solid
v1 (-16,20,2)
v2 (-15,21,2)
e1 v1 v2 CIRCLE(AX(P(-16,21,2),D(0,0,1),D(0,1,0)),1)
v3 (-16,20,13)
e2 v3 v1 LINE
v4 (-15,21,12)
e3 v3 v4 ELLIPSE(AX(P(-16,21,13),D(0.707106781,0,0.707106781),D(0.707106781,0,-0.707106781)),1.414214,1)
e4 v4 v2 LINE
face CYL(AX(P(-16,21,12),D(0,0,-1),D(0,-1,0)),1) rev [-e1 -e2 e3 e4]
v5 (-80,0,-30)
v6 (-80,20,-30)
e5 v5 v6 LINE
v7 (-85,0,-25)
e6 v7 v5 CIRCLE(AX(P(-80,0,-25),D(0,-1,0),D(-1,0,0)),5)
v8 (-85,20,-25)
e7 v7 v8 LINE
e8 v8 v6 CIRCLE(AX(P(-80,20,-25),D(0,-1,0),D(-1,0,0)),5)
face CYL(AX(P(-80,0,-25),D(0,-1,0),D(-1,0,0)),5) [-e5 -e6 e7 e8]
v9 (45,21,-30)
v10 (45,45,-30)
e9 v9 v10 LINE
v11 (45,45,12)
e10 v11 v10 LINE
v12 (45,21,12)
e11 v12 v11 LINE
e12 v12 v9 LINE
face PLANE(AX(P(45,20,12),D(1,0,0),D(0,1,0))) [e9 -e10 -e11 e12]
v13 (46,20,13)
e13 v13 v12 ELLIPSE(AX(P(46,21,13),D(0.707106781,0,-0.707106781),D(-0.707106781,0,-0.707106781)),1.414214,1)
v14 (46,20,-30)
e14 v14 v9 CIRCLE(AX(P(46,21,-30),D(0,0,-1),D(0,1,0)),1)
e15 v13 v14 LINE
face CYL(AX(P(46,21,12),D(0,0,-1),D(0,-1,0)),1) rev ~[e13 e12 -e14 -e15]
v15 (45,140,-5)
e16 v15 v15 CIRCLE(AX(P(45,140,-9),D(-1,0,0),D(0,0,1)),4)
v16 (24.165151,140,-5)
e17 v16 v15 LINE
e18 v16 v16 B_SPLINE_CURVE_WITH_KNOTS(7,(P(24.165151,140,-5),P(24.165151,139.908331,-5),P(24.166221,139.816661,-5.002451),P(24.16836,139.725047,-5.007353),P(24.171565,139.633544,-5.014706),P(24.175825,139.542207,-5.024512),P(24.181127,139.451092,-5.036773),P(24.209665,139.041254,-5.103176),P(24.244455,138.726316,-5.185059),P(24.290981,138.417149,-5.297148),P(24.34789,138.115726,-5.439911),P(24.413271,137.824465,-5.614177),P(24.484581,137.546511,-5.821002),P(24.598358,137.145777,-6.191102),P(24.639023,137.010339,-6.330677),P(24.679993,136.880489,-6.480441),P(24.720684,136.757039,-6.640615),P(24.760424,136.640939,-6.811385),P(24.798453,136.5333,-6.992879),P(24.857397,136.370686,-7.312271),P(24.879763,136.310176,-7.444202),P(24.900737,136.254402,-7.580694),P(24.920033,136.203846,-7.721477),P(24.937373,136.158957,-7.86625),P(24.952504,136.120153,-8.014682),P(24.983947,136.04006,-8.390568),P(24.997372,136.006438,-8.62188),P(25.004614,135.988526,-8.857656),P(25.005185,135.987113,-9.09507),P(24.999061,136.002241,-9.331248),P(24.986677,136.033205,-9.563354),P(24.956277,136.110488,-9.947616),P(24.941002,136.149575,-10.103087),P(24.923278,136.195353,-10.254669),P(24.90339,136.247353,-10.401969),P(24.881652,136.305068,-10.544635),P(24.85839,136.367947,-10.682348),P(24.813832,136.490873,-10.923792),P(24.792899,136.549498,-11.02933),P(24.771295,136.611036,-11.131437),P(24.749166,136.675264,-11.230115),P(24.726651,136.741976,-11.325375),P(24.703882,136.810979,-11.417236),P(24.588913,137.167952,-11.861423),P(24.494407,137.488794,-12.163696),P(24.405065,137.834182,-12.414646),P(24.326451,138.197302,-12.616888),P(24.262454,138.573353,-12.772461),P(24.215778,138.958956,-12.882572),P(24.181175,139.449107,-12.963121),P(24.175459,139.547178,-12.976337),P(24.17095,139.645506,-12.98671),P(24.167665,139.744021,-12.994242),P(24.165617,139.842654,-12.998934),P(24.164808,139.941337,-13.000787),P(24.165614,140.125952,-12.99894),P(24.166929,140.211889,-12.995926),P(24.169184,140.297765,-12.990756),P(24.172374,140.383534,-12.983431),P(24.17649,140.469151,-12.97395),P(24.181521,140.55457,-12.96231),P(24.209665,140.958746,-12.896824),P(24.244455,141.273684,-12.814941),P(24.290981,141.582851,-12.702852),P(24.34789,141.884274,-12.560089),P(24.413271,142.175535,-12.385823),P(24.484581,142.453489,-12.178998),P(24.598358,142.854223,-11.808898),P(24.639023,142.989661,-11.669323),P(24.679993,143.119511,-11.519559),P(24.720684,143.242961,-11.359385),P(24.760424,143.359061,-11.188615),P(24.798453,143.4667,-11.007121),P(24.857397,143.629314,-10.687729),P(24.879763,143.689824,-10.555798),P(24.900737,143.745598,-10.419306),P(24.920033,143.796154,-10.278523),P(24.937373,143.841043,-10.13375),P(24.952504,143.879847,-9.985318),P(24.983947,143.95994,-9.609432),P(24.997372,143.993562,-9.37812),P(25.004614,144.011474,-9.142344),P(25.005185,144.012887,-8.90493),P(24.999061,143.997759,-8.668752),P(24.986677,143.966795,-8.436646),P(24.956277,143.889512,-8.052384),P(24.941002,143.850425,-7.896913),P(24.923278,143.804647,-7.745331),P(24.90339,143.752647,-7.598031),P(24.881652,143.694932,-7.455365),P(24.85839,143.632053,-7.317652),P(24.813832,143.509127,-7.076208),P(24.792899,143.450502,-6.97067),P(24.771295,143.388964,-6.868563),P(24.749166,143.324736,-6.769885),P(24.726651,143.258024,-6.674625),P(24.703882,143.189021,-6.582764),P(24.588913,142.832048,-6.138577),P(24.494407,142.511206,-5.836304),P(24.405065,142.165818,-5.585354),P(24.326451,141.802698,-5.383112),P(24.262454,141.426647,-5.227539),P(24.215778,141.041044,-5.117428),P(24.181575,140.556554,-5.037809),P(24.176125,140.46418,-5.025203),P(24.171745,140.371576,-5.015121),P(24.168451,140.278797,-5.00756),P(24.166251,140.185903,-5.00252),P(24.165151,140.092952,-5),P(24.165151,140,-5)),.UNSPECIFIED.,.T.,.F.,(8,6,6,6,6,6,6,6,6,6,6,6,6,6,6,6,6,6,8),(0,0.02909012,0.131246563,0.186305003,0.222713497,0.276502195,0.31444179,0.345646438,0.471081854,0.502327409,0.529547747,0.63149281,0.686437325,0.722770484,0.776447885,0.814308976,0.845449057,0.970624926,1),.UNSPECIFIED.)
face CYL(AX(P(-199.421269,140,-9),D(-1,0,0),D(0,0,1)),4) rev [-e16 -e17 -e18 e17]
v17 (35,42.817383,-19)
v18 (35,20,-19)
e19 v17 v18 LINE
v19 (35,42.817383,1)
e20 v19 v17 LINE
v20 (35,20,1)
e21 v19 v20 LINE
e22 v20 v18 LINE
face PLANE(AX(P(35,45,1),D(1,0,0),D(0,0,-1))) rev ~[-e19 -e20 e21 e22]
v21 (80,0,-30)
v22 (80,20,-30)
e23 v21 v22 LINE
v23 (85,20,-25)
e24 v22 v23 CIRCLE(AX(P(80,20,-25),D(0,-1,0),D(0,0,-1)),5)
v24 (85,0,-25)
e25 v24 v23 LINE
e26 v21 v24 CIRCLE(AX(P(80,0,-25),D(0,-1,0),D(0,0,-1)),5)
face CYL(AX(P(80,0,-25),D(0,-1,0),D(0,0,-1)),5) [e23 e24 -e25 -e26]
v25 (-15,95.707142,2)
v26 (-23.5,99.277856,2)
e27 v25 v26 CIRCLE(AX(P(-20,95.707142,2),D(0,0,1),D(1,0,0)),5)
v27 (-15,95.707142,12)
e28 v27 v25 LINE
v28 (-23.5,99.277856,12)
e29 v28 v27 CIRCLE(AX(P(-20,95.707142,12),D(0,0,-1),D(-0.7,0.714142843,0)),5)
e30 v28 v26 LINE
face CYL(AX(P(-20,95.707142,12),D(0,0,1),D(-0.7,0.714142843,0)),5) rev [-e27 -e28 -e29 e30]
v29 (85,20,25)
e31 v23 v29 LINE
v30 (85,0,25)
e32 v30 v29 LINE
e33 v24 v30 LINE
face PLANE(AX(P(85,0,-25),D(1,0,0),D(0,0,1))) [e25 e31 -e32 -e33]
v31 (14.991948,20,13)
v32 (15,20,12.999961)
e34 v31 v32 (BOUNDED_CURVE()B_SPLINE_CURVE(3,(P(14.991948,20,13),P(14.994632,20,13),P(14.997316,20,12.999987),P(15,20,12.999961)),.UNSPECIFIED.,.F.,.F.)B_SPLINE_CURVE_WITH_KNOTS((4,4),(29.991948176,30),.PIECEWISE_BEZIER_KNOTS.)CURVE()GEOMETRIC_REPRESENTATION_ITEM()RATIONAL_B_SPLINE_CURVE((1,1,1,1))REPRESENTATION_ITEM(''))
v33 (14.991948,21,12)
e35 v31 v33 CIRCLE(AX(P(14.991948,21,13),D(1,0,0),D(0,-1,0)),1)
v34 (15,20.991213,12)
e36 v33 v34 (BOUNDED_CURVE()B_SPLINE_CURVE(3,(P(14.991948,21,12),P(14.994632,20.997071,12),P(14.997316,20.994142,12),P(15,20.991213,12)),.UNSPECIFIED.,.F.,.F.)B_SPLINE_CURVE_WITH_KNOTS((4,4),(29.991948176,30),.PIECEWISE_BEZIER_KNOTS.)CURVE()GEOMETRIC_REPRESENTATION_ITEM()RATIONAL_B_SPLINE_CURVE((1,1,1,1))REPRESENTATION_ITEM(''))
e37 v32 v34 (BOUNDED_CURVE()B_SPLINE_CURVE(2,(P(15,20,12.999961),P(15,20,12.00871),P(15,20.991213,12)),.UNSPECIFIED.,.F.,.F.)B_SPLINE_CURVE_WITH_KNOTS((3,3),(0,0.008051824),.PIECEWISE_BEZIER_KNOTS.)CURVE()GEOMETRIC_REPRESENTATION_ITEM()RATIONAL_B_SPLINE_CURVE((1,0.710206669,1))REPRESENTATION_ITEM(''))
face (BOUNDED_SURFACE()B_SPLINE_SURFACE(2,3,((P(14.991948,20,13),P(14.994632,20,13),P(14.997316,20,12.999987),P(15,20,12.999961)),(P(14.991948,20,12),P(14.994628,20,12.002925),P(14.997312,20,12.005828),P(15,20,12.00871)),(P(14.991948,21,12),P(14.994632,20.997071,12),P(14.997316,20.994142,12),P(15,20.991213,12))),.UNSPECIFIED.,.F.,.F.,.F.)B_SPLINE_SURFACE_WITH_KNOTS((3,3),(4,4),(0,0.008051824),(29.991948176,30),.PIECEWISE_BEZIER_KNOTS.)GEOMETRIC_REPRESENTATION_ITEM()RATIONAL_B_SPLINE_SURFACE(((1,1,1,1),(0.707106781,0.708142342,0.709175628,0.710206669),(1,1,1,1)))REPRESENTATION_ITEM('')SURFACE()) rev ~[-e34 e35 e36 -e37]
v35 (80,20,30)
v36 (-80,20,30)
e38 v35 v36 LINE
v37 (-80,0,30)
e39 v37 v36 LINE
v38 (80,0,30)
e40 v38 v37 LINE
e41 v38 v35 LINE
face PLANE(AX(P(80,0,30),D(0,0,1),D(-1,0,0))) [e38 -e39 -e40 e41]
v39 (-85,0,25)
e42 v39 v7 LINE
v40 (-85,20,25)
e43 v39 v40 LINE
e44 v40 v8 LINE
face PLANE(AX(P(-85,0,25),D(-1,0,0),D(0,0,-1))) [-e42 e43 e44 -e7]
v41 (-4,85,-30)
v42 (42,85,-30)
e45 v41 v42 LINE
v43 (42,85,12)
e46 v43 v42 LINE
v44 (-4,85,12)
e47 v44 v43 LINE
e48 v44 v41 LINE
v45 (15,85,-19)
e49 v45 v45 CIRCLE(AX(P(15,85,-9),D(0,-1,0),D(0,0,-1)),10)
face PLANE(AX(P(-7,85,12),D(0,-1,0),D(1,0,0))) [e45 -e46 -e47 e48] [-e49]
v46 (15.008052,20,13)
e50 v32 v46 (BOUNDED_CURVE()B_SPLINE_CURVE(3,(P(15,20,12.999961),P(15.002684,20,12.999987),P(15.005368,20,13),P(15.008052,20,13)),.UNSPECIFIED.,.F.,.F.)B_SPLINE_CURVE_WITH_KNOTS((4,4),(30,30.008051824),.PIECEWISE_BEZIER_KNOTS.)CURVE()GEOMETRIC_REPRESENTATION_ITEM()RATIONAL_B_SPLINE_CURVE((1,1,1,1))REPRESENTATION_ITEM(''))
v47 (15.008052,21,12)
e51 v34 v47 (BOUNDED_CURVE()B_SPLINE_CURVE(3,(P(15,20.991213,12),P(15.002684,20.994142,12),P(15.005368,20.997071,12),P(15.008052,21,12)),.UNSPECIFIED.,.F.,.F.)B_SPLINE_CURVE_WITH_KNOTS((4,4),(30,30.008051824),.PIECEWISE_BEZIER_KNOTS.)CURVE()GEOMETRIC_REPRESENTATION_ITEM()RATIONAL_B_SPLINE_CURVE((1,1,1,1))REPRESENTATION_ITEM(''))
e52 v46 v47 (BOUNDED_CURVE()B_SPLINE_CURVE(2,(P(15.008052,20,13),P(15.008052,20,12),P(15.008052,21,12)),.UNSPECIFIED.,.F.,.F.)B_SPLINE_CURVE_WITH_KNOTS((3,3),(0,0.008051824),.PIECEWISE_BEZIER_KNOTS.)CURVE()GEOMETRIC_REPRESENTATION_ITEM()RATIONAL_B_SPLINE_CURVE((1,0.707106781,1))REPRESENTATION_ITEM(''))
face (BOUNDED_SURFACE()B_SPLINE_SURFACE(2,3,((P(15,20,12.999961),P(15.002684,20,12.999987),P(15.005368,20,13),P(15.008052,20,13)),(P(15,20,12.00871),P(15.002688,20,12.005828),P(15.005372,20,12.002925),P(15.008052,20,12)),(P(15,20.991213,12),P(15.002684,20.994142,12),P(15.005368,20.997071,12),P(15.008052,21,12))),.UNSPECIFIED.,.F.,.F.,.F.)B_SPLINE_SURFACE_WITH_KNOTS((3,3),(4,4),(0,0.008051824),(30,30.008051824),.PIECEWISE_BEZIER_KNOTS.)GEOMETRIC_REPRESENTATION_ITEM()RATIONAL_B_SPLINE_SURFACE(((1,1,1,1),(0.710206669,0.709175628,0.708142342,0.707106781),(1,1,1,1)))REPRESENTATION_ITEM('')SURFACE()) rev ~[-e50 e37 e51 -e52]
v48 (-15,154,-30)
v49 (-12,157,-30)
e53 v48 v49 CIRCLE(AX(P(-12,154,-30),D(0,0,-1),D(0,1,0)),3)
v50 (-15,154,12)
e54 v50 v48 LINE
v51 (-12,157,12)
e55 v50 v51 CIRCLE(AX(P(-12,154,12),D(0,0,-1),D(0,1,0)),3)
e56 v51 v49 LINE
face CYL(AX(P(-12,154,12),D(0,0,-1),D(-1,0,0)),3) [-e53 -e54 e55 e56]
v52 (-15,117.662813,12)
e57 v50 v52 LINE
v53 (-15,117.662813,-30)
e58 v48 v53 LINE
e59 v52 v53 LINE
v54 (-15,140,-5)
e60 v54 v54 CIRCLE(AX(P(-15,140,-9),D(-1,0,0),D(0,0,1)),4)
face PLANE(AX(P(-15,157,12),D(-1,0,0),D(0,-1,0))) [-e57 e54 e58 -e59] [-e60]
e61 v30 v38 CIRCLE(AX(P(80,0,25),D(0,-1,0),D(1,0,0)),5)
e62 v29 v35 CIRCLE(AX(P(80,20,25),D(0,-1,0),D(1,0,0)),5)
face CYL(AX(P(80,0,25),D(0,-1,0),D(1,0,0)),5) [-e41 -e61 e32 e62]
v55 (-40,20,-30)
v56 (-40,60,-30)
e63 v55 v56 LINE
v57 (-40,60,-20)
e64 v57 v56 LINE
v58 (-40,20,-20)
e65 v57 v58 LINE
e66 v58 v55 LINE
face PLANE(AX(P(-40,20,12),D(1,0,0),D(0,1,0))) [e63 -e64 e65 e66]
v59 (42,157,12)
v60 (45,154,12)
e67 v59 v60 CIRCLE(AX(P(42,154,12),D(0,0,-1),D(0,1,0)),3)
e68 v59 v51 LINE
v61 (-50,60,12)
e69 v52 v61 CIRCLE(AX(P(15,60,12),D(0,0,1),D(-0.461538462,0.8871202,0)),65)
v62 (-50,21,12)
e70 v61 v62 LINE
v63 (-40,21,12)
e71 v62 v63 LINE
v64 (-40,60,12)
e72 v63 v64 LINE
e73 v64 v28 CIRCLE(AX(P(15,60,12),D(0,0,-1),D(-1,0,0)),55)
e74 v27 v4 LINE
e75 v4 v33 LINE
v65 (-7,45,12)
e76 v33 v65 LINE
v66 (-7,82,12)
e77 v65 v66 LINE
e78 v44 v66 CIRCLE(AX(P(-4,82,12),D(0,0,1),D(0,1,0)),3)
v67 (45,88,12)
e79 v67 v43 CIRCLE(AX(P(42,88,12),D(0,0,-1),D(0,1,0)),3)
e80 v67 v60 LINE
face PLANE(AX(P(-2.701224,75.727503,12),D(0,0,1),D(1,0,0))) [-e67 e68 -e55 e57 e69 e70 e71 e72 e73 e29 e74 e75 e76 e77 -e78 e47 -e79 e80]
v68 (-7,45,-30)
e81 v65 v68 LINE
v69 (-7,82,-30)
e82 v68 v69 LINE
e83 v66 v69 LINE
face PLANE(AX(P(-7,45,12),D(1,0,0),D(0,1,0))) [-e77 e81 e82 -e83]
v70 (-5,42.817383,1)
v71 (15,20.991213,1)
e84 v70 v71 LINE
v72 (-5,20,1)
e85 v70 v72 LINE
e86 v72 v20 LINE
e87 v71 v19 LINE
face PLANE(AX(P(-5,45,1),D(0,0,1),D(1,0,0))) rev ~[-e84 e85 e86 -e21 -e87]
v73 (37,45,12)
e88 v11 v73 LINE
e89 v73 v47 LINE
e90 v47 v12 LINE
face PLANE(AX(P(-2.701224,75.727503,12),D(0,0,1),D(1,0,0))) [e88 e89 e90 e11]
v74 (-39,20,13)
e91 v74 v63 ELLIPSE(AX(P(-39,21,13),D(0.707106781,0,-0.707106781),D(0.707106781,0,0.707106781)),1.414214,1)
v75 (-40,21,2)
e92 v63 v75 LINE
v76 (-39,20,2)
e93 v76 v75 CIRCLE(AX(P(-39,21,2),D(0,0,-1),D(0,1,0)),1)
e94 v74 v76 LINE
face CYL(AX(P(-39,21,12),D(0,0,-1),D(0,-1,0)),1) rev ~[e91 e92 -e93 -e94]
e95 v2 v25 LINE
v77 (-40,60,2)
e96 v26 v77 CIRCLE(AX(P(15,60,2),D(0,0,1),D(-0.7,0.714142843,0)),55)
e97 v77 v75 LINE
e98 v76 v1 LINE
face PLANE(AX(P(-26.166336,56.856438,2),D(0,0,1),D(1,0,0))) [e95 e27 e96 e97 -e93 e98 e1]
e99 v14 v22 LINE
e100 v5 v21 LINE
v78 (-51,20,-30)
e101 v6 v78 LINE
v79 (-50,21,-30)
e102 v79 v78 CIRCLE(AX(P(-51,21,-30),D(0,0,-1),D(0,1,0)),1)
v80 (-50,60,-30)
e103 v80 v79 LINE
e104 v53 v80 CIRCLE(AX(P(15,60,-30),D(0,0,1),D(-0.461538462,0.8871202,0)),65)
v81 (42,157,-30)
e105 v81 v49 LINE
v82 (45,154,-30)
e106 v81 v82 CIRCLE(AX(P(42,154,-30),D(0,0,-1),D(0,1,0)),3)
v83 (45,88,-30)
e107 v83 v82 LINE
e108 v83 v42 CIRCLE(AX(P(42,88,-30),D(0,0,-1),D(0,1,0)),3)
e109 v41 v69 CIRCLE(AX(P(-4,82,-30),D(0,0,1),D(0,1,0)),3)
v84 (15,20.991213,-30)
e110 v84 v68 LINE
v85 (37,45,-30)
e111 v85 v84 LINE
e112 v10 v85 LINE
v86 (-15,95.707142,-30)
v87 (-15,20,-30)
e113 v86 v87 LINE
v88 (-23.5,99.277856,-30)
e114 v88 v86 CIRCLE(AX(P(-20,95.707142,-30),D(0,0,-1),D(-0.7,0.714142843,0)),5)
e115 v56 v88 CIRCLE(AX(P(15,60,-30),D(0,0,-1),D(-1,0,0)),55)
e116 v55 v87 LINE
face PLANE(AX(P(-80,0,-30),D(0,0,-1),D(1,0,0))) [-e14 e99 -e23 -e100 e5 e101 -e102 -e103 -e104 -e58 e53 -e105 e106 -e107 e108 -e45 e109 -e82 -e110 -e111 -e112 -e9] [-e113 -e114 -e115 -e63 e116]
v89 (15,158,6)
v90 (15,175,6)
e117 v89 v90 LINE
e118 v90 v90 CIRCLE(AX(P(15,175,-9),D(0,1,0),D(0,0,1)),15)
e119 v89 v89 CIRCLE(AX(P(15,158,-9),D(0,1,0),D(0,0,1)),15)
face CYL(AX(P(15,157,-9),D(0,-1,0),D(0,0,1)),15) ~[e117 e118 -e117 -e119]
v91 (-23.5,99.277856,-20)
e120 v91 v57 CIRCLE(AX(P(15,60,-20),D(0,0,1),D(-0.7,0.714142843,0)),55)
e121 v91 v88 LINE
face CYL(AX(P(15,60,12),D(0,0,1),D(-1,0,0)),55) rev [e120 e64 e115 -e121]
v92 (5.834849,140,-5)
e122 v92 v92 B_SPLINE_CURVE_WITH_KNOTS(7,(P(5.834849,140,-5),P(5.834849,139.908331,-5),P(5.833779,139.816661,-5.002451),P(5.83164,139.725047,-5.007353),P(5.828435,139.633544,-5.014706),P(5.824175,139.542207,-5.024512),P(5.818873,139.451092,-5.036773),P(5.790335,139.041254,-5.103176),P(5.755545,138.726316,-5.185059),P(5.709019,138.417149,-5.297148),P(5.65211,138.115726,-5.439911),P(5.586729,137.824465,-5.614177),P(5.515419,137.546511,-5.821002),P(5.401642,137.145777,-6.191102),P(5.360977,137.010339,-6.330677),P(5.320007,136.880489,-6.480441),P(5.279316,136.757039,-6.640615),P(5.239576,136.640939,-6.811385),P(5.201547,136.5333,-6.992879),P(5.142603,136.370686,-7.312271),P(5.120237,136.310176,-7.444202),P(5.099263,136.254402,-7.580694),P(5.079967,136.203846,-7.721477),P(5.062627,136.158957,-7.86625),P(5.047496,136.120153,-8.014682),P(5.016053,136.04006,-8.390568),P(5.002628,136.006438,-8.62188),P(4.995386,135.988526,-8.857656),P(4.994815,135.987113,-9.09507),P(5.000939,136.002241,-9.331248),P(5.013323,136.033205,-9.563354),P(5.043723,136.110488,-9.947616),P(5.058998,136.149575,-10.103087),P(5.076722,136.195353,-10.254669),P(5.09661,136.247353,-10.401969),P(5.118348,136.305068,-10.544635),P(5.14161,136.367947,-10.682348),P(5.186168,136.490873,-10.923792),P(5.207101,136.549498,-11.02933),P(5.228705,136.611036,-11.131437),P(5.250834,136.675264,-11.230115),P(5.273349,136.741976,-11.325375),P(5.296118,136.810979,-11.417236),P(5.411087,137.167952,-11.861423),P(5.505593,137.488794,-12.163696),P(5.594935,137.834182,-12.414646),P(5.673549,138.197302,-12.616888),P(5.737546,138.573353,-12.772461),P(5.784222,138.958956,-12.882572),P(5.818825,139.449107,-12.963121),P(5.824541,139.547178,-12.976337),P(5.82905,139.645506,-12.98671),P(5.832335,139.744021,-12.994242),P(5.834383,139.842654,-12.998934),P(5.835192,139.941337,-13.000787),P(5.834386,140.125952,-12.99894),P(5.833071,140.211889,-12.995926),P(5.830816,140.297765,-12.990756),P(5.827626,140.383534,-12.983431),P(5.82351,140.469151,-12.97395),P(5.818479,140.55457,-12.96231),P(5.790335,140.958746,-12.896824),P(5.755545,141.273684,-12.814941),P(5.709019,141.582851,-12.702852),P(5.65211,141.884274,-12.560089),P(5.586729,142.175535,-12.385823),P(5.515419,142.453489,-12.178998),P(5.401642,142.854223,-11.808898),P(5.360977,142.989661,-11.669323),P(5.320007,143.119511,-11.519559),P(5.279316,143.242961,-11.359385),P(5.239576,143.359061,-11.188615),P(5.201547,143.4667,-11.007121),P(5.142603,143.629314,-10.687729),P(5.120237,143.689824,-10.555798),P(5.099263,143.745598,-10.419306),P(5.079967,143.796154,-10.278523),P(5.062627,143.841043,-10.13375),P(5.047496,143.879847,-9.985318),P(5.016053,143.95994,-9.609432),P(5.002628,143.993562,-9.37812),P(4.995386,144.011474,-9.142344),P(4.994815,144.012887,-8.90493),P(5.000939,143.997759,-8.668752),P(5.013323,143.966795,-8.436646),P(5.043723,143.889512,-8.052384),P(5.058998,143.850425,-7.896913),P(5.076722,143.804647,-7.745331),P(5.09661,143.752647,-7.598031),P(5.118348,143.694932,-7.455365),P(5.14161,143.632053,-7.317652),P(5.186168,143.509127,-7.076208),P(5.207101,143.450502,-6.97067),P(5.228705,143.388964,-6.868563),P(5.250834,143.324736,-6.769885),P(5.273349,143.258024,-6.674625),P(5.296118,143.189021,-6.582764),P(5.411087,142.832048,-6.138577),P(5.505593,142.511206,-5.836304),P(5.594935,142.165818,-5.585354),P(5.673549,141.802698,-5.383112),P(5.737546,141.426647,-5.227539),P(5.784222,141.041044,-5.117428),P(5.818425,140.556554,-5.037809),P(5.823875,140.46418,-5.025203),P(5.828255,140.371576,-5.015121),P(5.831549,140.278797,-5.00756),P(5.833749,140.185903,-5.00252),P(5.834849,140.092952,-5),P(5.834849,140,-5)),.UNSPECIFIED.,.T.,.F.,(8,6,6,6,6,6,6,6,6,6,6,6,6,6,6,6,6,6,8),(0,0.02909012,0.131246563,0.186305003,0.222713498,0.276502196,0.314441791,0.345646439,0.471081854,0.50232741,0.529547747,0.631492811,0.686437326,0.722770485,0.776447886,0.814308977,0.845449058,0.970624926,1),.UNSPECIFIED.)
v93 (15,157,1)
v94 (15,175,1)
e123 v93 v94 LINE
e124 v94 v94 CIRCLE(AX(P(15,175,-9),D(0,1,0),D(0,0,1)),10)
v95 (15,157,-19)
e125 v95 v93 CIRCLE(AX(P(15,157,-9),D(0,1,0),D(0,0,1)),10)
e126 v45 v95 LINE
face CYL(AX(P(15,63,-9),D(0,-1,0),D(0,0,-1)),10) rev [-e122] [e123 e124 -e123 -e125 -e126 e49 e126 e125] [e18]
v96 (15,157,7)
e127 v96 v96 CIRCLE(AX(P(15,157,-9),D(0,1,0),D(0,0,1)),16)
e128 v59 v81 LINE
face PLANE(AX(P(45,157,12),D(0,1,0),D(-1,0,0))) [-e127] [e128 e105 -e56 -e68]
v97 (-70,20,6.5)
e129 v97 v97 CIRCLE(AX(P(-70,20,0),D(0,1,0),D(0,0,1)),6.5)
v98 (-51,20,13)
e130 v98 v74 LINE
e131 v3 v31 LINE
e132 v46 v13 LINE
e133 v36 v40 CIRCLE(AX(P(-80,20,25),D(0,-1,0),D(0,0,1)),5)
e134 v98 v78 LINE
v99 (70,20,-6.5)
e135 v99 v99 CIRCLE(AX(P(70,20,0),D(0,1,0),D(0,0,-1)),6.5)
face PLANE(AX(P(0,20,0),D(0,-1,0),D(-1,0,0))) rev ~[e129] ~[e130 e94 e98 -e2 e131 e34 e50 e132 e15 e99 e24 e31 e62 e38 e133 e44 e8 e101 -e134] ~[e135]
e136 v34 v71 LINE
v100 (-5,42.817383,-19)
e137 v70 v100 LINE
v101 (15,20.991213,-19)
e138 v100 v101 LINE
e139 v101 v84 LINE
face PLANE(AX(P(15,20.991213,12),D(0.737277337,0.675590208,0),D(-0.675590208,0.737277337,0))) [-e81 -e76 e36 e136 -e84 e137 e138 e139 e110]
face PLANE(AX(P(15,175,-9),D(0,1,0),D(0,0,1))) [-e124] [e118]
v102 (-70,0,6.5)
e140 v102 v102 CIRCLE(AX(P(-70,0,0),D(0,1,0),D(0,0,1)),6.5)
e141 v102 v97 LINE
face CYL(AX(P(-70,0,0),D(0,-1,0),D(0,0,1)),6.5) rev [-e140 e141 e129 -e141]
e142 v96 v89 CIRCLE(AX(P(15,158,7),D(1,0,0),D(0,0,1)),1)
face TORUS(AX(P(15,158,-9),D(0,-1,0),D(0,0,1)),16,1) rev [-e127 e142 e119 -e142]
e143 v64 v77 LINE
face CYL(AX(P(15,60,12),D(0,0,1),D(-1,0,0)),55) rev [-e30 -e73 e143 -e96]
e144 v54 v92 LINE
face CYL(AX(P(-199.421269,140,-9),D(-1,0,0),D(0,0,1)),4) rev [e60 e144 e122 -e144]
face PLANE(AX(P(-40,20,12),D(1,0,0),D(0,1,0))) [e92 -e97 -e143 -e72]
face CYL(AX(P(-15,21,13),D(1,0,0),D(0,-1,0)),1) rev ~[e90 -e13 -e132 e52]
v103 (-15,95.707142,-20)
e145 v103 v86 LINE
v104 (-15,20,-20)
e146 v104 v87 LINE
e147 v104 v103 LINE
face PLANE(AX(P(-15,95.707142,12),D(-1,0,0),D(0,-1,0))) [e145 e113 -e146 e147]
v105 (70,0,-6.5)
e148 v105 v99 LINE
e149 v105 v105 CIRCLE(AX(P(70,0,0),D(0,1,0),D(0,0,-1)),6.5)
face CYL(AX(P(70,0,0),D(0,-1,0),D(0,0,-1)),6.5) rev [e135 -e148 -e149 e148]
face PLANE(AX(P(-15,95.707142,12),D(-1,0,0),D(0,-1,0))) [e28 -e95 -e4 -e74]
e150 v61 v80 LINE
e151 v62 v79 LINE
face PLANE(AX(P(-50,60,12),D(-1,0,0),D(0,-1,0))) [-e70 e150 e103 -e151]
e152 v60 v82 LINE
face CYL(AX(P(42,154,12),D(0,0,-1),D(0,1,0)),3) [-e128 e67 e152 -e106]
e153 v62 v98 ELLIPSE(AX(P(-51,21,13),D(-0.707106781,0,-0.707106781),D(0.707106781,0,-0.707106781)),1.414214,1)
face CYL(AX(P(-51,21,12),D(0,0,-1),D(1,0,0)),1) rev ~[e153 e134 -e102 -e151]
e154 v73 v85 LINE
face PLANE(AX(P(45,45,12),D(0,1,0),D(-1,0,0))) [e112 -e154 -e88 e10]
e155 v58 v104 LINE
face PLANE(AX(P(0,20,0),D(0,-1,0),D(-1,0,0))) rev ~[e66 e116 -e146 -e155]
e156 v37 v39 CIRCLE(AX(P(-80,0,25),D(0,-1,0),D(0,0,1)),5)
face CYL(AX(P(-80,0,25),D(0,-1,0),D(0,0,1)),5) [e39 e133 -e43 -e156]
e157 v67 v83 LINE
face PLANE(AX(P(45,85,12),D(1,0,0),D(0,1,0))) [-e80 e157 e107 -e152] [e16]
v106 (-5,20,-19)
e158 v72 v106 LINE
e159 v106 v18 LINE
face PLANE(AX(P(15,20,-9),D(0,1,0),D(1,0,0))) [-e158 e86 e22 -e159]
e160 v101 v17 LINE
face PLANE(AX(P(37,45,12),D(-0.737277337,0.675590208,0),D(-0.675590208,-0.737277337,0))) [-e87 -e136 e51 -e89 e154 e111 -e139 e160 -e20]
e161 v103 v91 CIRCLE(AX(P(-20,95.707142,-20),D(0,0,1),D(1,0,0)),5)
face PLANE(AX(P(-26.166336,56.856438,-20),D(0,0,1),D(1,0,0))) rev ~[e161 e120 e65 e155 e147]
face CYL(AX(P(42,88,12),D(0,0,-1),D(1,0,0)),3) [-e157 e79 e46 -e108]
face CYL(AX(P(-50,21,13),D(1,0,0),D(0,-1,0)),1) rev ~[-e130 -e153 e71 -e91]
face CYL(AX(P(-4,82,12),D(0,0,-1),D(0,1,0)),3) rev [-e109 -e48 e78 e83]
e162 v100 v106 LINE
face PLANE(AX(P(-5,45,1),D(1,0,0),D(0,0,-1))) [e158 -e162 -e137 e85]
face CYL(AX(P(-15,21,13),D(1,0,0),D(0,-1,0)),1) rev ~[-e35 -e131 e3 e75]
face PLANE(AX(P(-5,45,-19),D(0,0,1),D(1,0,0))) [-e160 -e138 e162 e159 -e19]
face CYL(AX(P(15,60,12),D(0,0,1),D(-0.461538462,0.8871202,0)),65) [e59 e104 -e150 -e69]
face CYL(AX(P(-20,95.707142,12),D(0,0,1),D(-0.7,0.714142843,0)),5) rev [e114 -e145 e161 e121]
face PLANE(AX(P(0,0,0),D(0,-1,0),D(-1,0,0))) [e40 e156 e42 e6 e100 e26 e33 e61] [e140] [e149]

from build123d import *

# Parameters (mm, degrees)
SKETCH1_R               = 6.5
BOSS_EXTRUDE1_DEPTH     = 20
BOSS_EXTRUDE2_DEPTH     = 42
SKETCH4_W               = 40
SKETCH4_H               = 20
CUT_EXTRUDE1_DEPTH      = 25
BOSS_EXTRUDE3_DEPTH     = 11
FILLET1_R               = 3
SKETCH7_R               = 15
SKETCH7_R_2             = 10
BOSS_EXTRUDE4_DEPTH     = 18
FILLET2_R               = 1
CUT_EXTRUDE2_START      = -94
SKETCH8_R               = 10
CUT_EXTRUDE2_DEPTH      = 94
CUT_EXTRUDE3_DEPTH      = 199.421269084
CUT_EXTRUDE3_DEPTH_BACK = 199.421269084
SKETCH9_R               = 4


with BuildPart() as part:
    # Sketch1 → Boss-Extrude1 (new body)
    with BuildSketch(Plane(origin=(0, 0, 0), x_dir=(1, 0, 0), z_dir=(0, 1, 0))):
        with BuildLine():
            Line((80, -30), (-80, -30))
            ThreePointArc((-80, -30), (-83.535533906, -28.535533906), (-85, -25))
            Line((-85, -25), (-85, 25))
            ThreePointArc((-85, 25), (-83.535533906, 28.535533906), (-80, 30))
            Line((-80, 30), (80, 30))
            ThreePointArc((80, 30), (83.535533906, 28.535533906), (85, 25))
            Line((85, 25), (85, -25))
            ThreePointArc((85, -25), (83.535533906, -28.535533906), (80, -30))
        make_face()
        with Locations(Location((-70, 0, 0), (0, 0, 270))):
            Circle(SKETCH1_R, mode=Mode.SUBTRACT)
        with Locations(Location((70, 0, 0), (0, 0, 90))):
            Circle(SKETCH1_R, mode=Mode.SUBTRACT)
    extrude(amount=BOSS_EXTRUDE1_DEPTH)

    # Sketch2 → Boss-Extrude2 (add)
    with BuildSketch(Plane.XY.offset(12)):
        with BuildLine():
            Line((15, 20.991212976), (-7, 45))
            Line((-7, 45), (-7, 85))
            Line((-7, 85), (45, 85))
            Line((45, 85), (45, 157))
            Line((45, 157), (-15, 157))
            Line((-15, 157), (-15, 117.662812973))
            ThreePointArc((-15, 117.662812973), (-40.565276927, 93.726843908), (-50, 60))
            Line((-50, 60), (-50, 20))
            Line((-50, 20), (-40, 20))
            Line((-40, 20), (-40, 60))
            ThreePointArc((-40, 60), (-35.707494515, 81.301408404), (-23.5, 99.277856357))
            ThreePointArc((-23.5, 99.277856357), (-18.063508327, 100.316914371), (-15, 95.707142143))
            Line((-15, 95.707142143), (-15, 20))
            Line((-15, 20), (45, 20))
            Line((45, 20), (45, 45))
            Line((45, 45), (37, 45))
            Line((37, 45), (15, 20.991212976))
        make_face()
    extrude(amount=-BOSS_EXTRUDE2_DEPTH)

    # Sketch4 → Cut-Extrude1 (cut)
    with BuildSketch(Plane(origin=(0, 45, 0), x_dir=(1, 0, 0), z_dir=(0, 1, 0))):
        with Locations((15, 9)):
            Rectangle(SKETCH4_W, SKETCH4_H)
    extrude(amount=-CUT_EXTRUDE1_DEPTH, mode=Mode.SUBTRACT)

    # Sketch5 → Boss-Extrude3 (add, symmetric)
    with BuildSketch(Plane.XY.offset(-9)):
        with BuildLine():
            Line((-15, 20), (-15, 95.707142143))
            ThreePointArc((-15, 95.707142143), (-18.063508327, 100.316914371), (-23.5, 99.277856357))
            ThreePointArc((-23.5, 99.277856357), (-35.707494515, 81.301408404), (-40, 60))
            Line((-40, 60), (-40, 20))
            Line((-40, 20), (-15, 20))
        make_face()
    extrude(amount=BOSS_EXTRUDE3_DEPTH, both=True)

    # Fillet1
    fillet1_edges = [part.edges().sort_by_distance(p)[0] for p in [
        (-7, 85, -9),
        (45, 85, -9),
        (45, 157, -9),
        (-15, 157, -9),
    ]]
    fillet(fillet1_edges, radius=FILLET1_R)

    # Sketch7 → Boss-Extrude4 (add)
    with BuildSketch(Plane(origin=(0, 157, 0), x_dir=(1, 0, 0), z_dir=(0, 1, 0))):
        with Locations(Location((15, 9, 0), (0, 0, 270))):
            Circle(SKETCH7_R)
        with Locations(Location((15, 9, 0), (0, 0, 270))):
            Circle(SKETCH7_R_2, mode=Mode.SUBTRACT)
    extrude(amount=BOSS_EXTRUDE4_DEPTH)

    # Fillet2
    fillet2_edges = [part.edges().sort_by_distance(p)[0] for p in [
        (15, 157, -24),
        (45, 20, -9),
        (15, 20, 12),
        (-50, 20, -9),
        (-45, 20, 12),
        (-40, 20, 7),
        (-15, 20, 7),
    ]]
    fillet(fillet2_edges, radius=FILLET2_R)

    # Sketch8 → Cut-Extrude2 (cut)
    with BuildSketch(Plane(origin=(0, 157, 0), x_dir=(1, 0, 0), z_dir=(0, 1, 0)).offset(CUT_EXTRUDE2_START)):
        with Locations(Location((15, 9, 0), (0, 0, 90))):
            Circle(SKETCH8_R)
    extrude(amount=CUT_EXTRUDE2_DEPTH, mode=Mode.SUBTRACT)

    # Sketch9 → Cut-Extrude3 (cut, two sides: drawn at the far end of the back side and taken through both)
    with BuildSketch(Plane(origin=(0, 0, -9), x_dir=(0, 0, -1), z_dir=(1, 0, 0)).offset(-CUT_EXTRUDE3_DEPTH_BACK)):
        with Locations(Location((0, 140, 0), (0, 0, 180))):
            Circle(SKETCH9_R)
    extrude(amount=CUT_EXTRUDE3_DEPTH + CUT_EXTRUDE3_DEPTH_BACK, mode=Mode.SUBTRACT)


solid = part.part
